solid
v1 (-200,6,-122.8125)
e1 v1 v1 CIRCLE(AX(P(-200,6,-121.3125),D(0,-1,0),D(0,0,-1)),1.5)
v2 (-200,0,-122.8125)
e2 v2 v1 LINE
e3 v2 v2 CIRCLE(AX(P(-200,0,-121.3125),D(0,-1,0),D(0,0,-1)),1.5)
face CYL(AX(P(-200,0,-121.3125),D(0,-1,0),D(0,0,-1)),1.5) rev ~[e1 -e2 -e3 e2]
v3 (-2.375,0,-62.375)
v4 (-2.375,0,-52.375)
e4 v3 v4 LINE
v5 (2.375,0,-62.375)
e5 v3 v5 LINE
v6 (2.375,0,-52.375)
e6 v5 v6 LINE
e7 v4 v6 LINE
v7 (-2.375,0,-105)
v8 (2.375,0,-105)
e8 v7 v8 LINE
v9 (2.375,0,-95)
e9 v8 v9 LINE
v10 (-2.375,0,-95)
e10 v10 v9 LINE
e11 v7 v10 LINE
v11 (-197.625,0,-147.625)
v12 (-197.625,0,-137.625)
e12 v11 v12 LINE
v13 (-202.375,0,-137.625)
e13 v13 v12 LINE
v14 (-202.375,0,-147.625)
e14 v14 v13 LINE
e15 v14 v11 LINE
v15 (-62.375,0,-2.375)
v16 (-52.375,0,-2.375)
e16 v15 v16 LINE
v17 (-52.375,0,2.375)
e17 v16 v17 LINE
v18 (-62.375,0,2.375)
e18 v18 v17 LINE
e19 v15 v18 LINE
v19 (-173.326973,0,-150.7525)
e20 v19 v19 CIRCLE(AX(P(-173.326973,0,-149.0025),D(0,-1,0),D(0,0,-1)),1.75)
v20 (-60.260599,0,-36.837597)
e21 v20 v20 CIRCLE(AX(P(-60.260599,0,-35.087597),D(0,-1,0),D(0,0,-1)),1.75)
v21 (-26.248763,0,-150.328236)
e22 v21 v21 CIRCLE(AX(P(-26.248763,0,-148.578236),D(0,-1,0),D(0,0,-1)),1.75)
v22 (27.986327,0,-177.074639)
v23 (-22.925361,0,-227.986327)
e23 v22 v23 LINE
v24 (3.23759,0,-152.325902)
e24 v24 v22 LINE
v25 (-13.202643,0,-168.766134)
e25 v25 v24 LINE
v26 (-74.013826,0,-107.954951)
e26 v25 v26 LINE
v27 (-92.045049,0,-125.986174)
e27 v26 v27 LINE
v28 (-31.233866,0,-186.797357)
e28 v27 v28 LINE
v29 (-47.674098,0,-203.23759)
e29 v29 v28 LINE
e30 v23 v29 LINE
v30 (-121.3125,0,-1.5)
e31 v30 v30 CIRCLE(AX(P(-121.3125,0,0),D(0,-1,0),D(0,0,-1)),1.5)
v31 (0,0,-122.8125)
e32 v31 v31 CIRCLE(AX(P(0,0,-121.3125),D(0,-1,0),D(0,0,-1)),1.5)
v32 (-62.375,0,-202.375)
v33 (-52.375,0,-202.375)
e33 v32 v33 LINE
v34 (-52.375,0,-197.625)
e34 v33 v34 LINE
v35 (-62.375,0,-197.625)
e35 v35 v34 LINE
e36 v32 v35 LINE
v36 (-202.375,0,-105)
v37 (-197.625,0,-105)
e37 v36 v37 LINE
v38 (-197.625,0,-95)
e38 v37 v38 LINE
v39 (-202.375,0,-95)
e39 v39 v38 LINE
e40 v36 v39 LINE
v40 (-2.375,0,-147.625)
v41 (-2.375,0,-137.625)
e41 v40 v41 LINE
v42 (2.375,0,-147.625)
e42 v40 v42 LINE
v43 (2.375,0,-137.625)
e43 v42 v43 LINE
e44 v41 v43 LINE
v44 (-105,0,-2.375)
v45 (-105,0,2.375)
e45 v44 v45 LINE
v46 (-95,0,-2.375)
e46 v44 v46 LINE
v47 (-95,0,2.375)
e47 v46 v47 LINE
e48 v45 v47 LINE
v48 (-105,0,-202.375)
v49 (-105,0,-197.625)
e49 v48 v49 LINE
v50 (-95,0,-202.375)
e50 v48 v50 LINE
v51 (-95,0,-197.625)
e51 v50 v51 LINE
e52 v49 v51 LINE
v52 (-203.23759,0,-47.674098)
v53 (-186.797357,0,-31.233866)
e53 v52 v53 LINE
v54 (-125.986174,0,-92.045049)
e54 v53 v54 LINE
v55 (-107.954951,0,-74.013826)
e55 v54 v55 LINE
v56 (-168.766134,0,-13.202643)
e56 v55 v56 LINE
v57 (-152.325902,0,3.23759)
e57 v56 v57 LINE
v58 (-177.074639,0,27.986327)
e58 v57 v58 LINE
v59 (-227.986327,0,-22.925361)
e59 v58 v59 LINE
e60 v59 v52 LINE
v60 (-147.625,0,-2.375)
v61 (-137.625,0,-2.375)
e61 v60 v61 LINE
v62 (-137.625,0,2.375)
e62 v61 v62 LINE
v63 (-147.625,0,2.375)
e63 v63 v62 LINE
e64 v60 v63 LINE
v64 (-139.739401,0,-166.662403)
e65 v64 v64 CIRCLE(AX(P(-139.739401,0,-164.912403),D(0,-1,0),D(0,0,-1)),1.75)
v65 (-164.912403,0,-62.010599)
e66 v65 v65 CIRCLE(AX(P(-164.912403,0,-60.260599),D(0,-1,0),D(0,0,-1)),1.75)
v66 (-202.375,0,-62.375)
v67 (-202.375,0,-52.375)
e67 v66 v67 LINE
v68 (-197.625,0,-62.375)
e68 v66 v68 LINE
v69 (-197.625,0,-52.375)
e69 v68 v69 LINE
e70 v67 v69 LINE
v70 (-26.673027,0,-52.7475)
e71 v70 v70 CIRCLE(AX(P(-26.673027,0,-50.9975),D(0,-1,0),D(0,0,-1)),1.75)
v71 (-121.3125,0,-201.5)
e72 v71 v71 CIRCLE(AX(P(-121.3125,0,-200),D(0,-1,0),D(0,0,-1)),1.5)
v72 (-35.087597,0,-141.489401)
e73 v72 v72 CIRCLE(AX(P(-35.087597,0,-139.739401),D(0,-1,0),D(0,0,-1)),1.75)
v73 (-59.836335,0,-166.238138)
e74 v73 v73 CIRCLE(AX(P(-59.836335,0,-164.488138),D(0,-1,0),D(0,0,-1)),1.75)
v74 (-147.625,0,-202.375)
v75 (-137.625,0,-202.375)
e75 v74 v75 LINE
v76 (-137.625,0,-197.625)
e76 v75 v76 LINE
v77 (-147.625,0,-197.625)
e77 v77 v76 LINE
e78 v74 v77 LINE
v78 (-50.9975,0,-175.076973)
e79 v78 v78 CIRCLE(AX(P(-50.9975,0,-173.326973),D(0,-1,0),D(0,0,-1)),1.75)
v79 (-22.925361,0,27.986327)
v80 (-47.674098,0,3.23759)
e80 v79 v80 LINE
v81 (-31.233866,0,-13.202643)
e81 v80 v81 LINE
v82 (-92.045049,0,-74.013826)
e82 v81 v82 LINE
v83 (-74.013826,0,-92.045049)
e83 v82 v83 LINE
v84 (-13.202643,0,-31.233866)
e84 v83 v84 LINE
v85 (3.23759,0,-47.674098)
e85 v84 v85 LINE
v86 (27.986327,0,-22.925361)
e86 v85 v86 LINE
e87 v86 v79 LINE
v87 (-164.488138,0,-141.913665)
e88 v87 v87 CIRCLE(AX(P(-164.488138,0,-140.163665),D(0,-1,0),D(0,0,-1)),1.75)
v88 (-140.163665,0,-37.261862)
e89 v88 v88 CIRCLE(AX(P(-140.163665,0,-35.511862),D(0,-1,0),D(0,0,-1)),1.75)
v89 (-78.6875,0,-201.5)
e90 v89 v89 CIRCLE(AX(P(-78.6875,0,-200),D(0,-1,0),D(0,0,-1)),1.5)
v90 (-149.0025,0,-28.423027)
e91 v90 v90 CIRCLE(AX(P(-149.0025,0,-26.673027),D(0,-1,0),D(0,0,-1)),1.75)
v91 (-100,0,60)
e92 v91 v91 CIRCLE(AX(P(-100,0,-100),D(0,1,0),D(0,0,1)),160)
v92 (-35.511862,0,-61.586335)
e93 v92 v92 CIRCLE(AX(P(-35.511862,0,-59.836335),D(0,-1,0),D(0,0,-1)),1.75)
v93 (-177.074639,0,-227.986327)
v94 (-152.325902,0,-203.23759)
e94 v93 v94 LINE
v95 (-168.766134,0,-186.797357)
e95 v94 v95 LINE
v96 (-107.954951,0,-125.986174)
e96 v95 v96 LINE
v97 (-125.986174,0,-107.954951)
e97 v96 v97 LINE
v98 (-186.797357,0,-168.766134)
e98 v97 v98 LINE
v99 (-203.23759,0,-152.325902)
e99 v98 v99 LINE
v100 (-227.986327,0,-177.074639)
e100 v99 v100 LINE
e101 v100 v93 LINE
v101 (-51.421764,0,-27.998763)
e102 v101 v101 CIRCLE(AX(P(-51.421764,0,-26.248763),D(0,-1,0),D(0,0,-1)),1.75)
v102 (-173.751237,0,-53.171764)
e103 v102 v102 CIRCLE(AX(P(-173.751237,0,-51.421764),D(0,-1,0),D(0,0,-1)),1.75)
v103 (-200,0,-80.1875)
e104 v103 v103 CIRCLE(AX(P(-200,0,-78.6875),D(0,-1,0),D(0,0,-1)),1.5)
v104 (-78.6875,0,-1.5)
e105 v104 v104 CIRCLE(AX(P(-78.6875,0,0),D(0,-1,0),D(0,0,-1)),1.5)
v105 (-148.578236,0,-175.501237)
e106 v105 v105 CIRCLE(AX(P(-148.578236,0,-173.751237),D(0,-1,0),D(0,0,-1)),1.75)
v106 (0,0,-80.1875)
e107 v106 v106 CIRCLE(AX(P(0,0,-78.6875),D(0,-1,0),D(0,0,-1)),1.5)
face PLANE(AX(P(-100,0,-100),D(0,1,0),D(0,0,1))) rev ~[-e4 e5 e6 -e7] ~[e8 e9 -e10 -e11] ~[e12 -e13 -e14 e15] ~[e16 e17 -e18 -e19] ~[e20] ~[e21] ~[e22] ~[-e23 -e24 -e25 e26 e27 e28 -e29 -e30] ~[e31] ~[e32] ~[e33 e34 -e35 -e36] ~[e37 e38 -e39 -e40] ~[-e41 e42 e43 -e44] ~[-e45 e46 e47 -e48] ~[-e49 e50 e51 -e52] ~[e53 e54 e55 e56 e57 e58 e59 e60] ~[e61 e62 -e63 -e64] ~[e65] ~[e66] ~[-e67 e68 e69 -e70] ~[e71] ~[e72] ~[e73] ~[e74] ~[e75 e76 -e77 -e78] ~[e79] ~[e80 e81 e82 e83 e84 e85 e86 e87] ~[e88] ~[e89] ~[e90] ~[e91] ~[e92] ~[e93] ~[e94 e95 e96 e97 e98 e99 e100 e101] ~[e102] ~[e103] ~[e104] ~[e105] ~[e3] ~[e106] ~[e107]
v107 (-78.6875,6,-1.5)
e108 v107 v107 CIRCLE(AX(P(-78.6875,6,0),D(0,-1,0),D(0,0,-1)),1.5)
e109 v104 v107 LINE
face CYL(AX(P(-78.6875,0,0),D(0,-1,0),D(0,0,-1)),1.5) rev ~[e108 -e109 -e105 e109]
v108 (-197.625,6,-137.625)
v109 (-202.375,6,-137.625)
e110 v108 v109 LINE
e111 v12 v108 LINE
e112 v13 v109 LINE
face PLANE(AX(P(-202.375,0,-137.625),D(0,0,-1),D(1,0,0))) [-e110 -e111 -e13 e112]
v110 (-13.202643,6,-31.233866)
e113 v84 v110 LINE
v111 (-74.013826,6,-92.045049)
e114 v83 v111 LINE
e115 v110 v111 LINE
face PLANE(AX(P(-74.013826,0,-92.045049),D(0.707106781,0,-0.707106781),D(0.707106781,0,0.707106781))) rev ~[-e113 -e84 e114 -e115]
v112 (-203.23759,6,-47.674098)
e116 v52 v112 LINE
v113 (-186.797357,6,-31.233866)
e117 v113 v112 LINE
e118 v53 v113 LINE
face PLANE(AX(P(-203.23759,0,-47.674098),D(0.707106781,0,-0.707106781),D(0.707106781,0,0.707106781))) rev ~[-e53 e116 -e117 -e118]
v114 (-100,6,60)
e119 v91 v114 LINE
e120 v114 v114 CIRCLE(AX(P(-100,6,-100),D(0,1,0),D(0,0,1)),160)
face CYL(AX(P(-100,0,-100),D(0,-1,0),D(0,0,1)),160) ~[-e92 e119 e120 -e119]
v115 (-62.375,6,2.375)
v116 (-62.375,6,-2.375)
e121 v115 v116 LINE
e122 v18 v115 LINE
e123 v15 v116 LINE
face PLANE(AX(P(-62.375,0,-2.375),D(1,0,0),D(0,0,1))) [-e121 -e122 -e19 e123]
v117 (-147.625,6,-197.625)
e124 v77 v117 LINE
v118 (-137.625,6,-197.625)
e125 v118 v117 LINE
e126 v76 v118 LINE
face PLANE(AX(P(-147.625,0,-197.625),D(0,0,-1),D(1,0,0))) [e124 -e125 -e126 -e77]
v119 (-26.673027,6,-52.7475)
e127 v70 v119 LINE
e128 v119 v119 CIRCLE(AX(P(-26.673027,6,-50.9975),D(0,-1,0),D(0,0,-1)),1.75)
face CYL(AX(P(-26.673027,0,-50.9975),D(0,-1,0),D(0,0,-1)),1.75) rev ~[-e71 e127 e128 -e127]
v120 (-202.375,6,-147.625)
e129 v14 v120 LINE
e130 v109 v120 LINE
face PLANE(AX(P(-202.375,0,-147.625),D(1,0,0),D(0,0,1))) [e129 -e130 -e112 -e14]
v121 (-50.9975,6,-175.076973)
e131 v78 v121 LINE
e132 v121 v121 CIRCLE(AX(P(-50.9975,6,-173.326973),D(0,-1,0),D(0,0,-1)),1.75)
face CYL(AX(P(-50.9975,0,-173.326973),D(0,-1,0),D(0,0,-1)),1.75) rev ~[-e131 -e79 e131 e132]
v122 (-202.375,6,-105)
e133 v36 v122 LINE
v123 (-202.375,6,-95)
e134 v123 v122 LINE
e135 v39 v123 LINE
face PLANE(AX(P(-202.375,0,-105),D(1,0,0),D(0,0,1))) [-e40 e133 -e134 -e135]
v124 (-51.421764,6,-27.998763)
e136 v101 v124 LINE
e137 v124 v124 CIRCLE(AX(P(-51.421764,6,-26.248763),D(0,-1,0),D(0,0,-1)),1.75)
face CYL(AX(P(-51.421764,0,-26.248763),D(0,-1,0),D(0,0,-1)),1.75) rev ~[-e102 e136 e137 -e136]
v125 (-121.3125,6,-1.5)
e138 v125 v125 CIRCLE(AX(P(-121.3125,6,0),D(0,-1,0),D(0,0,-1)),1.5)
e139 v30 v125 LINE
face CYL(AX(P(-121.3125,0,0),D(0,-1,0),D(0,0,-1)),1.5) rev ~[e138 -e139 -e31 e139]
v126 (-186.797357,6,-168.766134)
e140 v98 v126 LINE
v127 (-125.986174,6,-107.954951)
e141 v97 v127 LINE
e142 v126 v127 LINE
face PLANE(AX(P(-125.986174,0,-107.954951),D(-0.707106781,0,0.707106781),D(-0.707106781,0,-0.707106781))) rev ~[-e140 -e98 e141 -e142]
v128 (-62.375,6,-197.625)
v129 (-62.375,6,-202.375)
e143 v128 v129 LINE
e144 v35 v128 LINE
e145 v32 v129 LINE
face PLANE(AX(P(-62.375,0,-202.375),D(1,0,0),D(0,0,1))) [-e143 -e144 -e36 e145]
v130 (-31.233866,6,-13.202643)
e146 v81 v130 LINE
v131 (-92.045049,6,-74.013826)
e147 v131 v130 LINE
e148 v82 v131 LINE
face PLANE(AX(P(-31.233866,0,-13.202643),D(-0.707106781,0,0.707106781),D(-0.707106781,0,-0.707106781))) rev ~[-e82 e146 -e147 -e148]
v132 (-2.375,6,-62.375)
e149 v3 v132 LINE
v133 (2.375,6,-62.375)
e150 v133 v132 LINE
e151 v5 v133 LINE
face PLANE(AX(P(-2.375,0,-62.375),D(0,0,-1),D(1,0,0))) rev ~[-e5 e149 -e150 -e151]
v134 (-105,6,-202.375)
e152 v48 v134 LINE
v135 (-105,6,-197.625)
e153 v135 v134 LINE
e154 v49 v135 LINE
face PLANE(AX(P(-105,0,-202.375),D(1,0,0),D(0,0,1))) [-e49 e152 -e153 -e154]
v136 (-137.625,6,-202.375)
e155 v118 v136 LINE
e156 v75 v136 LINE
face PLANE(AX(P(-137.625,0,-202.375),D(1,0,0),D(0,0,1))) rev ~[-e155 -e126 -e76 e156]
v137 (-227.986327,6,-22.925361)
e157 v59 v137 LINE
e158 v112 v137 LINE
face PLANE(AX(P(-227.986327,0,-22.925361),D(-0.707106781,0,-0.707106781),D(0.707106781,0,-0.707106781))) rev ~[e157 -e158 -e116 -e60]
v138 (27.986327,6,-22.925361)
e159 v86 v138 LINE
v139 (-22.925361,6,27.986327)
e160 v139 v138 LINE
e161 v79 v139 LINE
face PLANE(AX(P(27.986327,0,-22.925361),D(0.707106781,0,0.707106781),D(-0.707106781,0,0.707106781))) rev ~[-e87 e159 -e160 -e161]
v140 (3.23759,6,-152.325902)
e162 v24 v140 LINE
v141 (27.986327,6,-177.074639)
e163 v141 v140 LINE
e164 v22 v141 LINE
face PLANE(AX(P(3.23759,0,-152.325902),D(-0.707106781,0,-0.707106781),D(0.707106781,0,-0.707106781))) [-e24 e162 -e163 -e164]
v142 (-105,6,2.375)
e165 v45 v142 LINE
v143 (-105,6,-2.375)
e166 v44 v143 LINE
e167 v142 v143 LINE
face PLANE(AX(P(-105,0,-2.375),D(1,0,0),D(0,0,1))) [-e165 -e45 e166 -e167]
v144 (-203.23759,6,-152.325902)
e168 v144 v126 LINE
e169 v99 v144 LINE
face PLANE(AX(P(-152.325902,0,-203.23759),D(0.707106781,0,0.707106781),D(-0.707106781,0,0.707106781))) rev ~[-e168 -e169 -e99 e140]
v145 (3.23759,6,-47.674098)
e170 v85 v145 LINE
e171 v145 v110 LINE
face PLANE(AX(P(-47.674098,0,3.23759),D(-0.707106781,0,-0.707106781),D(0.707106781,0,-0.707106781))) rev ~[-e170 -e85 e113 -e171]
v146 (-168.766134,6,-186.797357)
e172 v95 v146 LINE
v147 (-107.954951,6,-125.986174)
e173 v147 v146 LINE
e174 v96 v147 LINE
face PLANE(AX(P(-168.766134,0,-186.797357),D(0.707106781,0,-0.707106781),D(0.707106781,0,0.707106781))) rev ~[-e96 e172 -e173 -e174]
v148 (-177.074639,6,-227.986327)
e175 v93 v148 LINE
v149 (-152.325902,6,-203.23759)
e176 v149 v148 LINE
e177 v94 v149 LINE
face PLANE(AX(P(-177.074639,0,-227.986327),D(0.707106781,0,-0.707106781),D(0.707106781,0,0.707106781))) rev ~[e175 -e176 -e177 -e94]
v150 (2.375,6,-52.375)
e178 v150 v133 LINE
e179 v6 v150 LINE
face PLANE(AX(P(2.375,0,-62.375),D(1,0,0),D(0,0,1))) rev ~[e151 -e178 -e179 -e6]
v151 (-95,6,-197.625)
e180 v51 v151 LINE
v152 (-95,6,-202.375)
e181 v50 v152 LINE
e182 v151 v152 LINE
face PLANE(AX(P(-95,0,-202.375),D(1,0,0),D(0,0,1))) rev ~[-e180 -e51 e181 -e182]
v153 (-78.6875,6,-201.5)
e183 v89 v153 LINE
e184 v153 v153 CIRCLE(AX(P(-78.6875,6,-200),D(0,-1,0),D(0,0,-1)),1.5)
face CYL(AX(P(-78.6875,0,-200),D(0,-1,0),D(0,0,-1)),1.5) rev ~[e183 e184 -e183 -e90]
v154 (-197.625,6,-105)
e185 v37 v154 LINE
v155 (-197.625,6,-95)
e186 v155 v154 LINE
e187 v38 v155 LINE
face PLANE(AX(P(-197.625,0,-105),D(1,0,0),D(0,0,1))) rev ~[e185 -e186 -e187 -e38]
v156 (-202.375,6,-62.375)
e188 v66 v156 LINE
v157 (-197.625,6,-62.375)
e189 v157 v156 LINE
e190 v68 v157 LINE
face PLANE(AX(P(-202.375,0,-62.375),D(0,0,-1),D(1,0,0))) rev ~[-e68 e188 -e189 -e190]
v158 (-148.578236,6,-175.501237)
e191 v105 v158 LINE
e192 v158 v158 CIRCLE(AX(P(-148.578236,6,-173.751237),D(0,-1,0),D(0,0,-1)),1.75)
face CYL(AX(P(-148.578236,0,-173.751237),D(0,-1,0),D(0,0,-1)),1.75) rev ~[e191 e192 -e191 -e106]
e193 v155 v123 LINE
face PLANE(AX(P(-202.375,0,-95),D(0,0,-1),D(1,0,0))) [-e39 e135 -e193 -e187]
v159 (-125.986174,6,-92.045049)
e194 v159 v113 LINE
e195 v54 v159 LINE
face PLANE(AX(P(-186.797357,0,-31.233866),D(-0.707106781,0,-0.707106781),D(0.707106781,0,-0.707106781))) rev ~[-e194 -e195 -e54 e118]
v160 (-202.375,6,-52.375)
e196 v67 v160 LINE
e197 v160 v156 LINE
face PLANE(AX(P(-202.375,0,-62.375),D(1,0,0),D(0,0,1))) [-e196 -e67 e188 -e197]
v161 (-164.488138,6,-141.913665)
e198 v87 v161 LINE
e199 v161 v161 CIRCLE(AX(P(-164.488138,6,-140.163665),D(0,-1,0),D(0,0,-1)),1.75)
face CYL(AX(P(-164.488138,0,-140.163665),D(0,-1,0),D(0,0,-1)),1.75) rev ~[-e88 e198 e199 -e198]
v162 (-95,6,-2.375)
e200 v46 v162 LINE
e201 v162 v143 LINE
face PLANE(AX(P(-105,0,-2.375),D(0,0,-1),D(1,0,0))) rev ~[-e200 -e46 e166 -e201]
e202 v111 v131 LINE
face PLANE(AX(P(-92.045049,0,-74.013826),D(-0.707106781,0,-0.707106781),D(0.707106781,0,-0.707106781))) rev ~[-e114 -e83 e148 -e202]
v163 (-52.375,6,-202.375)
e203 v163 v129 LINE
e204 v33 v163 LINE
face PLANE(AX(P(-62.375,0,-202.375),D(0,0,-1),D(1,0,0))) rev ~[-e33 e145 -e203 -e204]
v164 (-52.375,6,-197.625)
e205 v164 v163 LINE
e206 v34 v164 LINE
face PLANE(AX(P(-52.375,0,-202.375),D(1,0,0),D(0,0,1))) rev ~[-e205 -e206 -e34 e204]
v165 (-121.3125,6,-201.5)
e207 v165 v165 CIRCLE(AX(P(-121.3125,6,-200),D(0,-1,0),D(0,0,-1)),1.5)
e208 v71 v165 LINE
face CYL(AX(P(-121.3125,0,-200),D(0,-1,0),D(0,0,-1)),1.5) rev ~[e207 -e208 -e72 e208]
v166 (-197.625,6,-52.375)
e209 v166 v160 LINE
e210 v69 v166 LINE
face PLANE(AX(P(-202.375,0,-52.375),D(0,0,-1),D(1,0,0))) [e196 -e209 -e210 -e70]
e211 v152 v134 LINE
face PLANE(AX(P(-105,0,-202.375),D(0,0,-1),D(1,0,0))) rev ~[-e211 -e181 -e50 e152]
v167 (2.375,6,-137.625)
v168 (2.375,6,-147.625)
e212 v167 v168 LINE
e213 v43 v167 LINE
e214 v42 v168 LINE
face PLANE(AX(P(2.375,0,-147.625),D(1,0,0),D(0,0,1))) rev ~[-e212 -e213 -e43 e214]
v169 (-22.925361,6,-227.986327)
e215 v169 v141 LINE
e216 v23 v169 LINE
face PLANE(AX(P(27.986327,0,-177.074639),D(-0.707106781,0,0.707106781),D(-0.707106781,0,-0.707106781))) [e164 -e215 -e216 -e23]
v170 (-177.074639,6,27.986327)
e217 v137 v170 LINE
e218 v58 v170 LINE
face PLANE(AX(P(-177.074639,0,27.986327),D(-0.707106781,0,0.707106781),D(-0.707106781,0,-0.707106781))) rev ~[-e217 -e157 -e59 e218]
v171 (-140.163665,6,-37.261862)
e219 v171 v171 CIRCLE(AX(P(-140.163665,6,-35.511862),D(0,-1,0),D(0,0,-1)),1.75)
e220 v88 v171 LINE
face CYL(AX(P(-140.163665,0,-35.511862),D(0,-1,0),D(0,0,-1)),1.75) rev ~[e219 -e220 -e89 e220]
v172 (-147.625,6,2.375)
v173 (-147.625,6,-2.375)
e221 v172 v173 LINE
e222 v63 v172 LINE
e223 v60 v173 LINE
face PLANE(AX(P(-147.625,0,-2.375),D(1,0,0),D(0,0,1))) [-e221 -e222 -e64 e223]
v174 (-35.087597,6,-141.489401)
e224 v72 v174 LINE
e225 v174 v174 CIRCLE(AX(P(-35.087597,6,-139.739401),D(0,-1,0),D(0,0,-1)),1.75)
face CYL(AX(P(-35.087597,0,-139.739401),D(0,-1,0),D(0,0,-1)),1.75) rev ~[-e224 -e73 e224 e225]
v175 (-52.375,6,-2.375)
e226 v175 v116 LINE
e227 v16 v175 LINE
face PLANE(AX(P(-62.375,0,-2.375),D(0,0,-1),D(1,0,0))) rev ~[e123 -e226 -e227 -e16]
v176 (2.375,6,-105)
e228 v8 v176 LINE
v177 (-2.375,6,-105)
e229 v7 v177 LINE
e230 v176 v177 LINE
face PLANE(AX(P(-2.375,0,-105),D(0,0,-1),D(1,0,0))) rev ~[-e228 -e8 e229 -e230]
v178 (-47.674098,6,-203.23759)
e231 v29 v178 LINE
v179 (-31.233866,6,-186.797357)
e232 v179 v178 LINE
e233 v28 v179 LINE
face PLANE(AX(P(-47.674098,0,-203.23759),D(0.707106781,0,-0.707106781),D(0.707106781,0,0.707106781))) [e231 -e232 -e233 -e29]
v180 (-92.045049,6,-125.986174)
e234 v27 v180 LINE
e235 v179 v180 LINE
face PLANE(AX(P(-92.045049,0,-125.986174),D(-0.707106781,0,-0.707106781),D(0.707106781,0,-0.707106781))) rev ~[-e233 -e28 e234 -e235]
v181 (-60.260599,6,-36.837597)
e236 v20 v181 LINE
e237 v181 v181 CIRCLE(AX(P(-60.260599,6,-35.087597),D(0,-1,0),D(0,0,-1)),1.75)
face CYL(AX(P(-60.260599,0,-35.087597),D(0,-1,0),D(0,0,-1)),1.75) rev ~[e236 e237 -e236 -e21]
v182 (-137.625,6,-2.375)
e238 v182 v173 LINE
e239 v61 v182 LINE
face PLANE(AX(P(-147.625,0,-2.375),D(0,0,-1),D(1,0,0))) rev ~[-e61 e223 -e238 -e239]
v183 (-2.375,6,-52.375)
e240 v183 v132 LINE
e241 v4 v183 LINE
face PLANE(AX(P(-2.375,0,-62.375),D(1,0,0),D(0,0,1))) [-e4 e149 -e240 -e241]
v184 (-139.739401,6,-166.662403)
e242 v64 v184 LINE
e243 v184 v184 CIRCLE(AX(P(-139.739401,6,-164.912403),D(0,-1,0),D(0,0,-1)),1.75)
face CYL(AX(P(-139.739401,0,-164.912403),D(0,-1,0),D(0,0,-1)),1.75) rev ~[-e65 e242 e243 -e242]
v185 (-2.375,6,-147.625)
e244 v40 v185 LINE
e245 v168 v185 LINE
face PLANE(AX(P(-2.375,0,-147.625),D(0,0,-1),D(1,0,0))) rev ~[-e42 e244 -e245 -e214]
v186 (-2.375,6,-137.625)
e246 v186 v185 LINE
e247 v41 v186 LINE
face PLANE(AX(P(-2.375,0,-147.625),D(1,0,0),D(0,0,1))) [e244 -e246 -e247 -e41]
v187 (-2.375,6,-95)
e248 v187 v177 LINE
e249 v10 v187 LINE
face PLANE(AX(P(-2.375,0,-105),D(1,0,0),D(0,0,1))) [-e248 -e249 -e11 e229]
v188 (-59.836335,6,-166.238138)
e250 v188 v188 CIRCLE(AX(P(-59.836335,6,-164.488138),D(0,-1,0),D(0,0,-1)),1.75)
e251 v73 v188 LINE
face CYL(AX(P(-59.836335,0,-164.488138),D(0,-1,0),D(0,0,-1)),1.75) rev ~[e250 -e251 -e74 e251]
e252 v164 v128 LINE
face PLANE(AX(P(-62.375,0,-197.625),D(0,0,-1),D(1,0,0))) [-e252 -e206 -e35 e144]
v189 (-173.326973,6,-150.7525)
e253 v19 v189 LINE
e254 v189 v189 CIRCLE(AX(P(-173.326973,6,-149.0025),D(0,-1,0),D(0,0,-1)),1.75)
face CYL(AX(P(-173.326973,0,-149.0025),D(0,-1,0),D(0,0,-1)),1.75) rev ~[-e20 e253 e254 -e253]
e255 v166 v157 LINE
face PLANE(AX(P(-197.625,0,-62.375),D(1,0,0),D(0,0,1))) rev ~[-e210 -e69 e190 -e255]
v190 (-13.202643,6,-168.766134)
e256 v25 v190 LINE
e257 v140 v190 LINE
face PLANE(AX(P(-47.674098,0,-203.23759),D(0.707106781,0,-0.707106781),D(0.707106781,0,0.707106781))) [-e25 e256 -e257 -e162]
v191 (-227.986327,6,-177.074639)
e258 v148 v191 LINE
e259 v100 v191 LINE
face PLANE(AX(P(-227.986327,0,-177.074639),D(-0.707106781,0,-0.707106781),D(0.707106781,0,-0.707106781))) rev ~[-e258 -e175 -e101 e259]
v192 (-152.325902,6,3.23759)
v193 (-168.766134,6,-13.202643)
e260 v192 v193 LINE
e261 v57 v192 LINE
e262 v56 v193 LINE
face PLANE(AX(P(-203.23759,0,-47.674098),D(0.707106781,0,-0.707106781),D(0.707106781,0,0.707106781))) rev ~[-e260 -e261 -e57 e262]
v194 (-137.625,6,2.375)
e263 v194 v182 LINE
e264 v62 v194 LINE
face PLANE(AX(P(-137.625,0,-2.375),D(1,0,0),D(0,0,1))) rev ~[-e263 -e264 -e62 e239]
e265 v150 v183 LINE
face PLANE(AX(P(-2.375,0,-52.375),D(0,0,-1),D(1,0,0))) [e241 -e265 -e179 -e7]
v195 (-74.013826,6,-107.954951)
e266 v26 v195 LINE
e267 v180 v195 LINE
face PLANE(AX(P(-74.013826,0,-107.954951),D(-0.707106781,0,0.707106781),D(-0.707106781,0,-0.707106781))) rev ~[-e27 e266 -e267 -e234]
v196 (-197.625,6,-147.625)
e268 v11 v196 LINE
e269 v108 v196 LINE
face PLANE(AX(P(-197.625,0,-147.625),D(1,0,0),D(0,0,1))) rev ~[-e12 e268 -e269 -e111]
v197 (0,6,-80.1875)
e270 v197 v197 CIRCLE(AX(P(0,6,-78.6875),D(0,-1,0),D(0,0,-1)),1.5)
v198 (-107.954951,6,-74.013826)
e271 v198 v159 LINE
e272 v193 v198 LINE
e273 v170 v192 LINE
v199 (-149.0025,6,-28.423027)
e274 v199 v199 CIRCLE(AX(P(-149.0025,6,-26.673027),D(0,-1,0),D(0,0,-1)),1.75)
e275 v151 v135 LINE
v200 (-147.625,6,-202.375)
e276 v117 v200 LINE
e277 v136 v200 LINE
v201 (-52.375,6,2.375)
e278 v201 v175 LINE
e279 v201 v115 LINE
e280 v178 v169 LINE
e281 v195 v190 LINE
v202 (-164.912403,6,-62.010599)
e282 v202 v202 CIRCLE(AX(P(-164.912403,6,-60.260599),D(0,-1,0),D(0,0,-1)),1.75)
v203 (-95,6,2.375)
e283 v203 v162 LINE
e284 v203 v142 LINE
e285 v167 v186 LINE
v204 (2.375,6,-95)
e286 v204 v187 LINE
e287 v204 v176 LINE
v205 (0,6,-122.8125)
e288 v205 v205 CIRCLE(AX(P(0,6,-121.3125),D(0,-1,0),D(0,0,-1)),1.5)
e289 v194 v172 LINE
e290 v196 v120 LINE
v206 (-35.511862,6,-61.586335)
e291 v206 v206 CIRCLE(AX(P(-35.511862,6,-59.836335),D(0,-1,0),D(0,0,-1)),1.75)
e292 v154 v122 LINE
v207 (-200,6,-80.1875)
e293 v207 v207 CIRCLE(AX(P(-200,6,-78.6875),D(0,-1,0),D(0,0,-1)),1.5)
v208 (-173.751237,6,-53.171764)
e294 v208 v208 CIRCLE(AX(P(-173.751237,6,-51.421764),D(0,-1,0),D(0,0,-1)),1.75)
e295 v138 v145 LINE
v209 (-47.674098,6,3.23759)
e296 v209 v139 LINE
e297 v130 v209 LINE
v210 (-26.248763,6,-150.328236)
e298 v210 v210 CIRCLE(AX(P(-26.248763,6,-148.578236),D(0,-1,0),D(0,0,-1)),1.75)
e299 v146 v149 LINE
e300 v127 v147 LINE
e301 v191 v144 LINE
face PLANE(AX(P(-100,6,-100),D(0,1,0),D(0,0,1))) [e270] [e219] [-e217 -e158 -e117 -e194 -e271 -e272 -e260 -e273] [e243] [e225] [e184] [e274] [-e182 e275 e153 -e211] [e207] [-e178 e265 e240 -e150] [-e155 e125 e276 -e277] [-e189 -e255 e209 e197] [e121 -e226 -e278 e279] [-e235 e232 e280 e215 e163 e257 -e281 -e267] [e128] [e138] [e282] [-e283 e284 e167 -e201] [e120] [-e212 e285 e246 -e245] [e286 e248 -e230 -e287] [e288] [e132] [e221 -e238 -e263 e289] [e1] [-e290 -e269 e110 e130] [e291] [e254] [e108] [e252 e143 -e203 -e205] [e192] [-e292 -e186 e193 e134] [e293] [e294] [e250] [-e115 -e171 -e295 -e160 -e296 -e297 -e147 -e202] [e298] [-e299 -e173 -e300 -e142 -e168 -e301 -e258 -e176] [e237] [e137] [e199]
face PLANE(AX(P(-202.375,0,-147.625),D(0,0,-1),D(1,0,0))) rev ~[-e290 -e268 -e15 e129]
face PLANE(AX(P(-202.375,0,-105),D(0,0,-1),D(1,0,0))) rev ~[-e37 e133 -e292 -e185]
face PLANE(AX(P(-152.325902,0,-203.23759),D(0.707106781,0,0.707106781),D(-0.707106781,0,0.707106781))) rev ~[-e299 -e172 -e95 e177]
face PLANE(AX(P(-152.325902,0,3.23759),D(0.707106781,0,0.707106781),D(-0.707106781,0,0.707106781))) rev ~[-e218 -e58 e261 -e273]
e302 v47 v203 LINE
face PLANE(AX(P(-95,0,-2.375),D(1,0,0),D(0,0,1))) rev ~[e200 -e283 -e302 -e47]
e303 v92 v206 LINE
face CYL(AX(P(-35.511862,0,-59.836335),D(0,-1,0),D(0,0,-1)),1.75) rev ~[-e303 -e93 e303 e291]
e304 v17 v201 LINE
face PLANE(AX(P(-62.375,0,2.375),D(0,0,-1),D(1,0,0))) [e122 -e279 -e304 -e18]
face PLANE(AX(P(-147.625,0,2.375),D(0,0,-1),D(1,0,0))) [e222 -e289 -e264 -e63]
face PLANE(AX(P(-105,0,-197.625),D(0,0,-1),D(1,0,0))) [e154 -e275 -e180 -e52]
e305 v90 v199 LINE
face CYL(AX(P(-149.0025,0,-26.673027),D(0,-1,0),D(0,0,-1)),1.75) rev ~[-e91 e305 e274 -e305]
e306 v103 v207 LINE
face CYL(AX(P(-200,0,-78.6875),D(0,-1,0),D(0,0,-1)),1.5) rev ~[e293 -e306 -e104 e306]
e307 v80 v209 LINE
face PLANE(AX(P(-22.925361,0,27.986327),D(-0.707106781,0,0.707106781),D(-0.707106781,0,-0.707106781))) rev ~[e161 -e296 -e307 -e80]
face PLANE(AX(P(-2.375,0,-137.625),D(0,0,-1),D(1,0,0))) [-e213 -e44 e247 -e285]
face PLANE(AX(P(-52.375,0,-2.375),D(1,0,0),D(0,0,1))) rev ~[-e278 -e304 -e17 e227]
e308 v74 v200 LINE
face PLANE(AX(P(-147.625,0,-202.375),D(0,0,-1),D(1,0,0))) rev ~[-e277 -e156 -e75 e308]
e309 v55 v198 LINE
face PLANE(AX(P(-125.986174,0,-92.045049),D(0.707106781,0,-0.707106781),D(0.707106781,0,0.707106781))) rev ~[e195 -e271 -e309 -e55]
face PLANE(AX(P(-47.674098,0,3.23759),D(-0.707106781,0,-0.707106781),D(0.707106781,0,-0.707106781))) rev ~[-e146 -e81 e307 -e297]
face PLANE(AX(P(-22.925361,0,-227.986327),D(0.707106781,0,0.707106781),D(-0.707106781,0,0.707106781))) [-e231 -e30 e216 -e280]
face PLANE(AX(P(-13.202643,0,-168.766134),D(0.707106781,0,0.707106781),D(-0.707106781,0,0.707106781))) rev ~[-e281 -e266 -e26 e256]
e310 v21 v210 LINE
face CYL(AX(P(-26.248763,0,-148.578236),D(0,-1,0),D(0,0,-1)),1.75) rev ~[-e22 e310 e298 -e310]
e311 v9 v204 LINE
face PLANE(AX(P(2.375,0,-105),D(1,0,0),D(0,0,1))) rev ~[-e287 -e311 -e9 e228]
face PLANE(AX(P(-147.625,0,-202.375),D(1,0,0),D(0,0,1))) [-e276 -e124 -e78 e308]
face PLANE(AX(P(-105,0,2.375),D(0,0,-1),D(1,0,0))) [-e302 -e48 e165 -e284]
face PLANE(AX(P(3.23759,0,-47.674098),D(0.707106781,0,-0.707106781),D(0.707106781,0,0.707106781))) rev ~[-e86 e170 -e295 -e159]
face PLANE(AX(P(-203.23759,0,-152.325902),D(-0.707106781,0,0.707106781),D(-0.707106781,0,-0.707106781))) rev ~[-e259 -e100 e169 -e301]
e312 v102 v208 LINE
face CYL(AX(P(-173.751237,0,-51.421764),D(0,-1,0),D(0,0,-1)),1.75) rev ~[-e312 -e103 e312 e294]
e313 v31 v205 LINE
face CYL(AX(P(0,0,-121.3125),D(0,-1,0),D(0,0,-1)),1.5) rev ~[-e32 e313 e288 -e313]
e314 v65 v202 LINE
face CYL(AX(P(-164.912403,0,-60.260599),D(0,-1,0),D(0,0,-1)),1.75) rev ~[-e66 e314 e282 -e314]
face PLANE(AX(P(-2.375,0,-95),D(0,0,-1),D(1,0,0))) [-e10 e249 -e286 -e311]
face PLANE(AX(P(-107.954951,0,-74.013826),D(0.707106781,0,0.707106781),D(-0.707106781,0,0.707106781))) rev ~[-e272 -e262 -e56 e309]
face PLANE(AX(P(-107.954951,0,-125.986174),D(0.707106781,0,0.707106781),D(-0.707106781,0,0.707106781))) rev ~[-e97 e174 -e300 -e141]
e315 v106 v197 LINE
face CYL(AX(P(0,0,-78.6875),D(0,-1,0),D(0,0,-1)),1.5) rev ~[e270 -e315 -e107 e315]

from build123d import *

# Parameters (mm, degrees)
SKETCH1_R           = 160
BOSS_EXTRUDE1_DEPTH = 6
CUT_EXTRUDE1_DEPTH  = 368.744476505
CUT_EXTRUDE2_DEPTH  = 368.744476505
SKETCH7_R           = 1.75
CUT_EXTRUDE3_DEPTH  = 368.744476505
SKETCH9_R           = 1.5
SKETCH9_W           = 4.75
SKETCH9_H           = 10
SKETCH9_W_2         = 10
SKETCH9_H_2         = 4.75
CUT_EXTRUDE4_DEPTH  = 368.744476505


with BuildPart() as part:
    # Sketch1 → Boss-Extrude1 (new body)
    with BuildSketch(Plane(origin=(0, 0, 0), x_dir=(1, 0, 0), z_dir=(0, 1, 0))):
        with Locations(Location((-100, 100, 0), (0, 0, 270))):
            Circle(SKETCH1_R)
    extrude(amount=BOSS_EXTRUDE1_DEPTH)

    # Sketch3 → Cut-Extrude1 (cut, through all)
    with BuildSketch(Plane.XZ):
        Polygon((-22.925360851, -227.986327395), (-47.674098192, -203.237590053), (3.237590053, -152.325901808), (27.986327395, -177.074639149), align=None)
        Polygon((3.237590053, -47.674098192), (27.986327395, -22.925360851), (-22.925360851, 27.986327395), (-47.674098192, 3.237590053), align=None)
        Polygon((-152.325901808, 3.237590053), (-177.074639149, 27.986327395), (-227.986327395, -22.925360851), (-203.237590053, -47.674098192), align=None)
        Polygon((-177.074639149, -227.986327395), (-152.325901808, -203.237590053), (-203.237590053, -152.325901808), (-227.986327395, -177.074639149), align=None)
    extrude(amount=-CUT_EXTRUDE1_DEPTH, mode=Mode.SUBTRACT)

    # Sketch4 → Cut-Extrude2 (cut, through all)
    with BuildSketch(Plane.XZ):
        Polygon((-31.23386553, -186.797357391), (-13.202642609, -168.76613447), (-74.013825791, -107.954951288), (-92.045048712, -125.986174209), align=None)
        Polygon((-125.986174209, -107.954951288), (-186.797357391, -168.76613447), (-168.76613447, -186.797357391), (-107.954951288, -125.986174209), align=None)
        Polygon((-107.954951288, -74.013825791), (-168.76613447, -13.202642609), (-186.797357391, -31.23386553), (-125.986174209, -92.045048712), align=None)
        Polygon((-74.013825791, -92.045048712), (-13.202642609, -31.23386553), (-31.23386553, -13.202642609), (-92.045048712, -74.013825791), align=None)
    extrude(amount=-CUT_EXTRUDE2_DEPTH, mode=Mode.SUBTRACT)

    # Sketch7 → Cut-Extrude3 (cut, through all)
    with BuildSketch(Plane.XZ):
        with Locations(Location((-149.002499936, -26.673026791, 0), (0, 0, 270))):
            Circle(SKETCH7_R)
        with Locations(Location((-148.578235868, -173.751237278, 0), (0, 0, 270))):
            Circle(SKETCH7_R)
        with Locations(Location((-140.163665171, -35.511861556, 0), (0, 0, 270))):
            Circle(SKETCH7_R)
        with Locations(Location((-164.912402513, -60.260598897, 0), (0, 0, 270))):
            Circle(SKETCH7_R)
        with Locations(Location((-173.751237278, -51.421764132, 0), (0, 0, 270))):
            Circle(SKETCH7_R)
        with Locations(Location((-173.326973209, -149.002499936, 0), (0, 0, 270))):
            Circle(SKETCH7_R)
        with Locations(Location((-164.488138444, -140.163665171, 0), (0, 0, 270))):
            Circle(SKETCH7_R)
        with Locations(Location((-139.739401103, -164.912402513, 0), (0, 0, 270))):
            Circle(SKETCH7_R)
        with Locations(Location((-26.673026791, -50.997500064, 0), (0, 0, 270))):
            Circle(SKETCH7_R)
        with Locations(Location((-35.511861556, -59.836334829, 0), (0, 0, 270))):
            Circle(SKETCH7_R)
        with Locations(Location((-60.260598897, -35.087597487, 0), (0, 0, 270))):
            Circle(SKETCH7_R)
        with Locations(Location((-51.421764132, -26.248762722, 0), (0, 0, 270))):
            Circle(SKETCH7_R)
        with Locations(Location((-50.997500064, -173.326973209, 0), (0, 0, 270))):
            Circle(SKETCH7_R)
        with Locations(Location((-59.836334829, -164.488138444, 0), (0, 0, 270))):
            Circle(SKETCH7_R)
        with Locations(Location((-35.087597487, -139.739401103, 0), (0, 0, 270))):
            Circle(SKETCH7_R)
        with Locations(Location((-26.248762722, -148.578235868, 0), (0, 0, 270))):
            Circle(SKETCH7_R)
    extrude(amount=-CUT_EXTRUDE3_DEPTH, mode=Mode.SUBTRACT)

    # Sketch9 → Cut-Extrude4 (cut, through all)
    with BuildSketch(Plane.XZ):
        with Locations(Location((0, -78.6875, 0), (0, 0, 270))):
            Circle(SKETCH9_R)
        with Locations(Location((0, -121.3125, 0), (0, 0, 270))):
            Circle(SKETCH9_R)
        with Locations(Location((-78.6875, -200, 0), (0, 0, 270))):
            Circle(SKETCH9_R)
        with Locations(Location((-121.3125, -200, 0), (0, 0, 270))):
            Circle(SKETCH9_R)
        with Locations(Location((-200, -121.3125, 0), (0, 0, 270))):
            Circle(SKETCH9_R)
        with Locations(Location((-200, -78.6875, 0), (0, 0, 270))):
            Circle(SKETCH9_R)
        with Locations(Location((-121.3125, 0, 0), (0, 0, 270))):
            Circle(SKETCH9_R)
        with Locations(Location((-78.6875, 0, 0), (0, 0, 270))):
            Circle(SKETCH9_R)
        with Locations((0, -142.625)):
            Rectangle(SKETCH9_W, SKETCH9_H)
        with Locations((0, -100)):
            Rectangle(SKETCH9_W, SKETCH9_H)
        with Locations((0, -57.375)):
            Rectangle(SKETCH9_W, SKETCH9_H)
        with Locations((-100, -200)):
            Rectangle(SKETCH9_W_2, SKETCH9_H_2)
        with Locations((-57.375, -200)):
            Rectangle(SKETCH9_W_2, SKETCH9_H_2)
        with Locations((-142.625, -200)):
            Rectangle(SKETCH9_W_2, SKETCH9_H_2)
        with Locations((-200, -100)):
            Rectangle(SKETCH9_W, SKETCH9_H)
        with Locations((-200, -142.625)):
            Rectangle(SKETCH9_W, SKETCH9_H)
        with Locations((-200, -57.375)):
            Rectangle(SKETCH9_W, SKETCH9_H)
        with Locations((-100, 0)):
            Rectangle(SKETCH9_W_2, SKETCH9_H_2)
        with Locations((-142.625, 0)):
            Rectangle(SKETCH9_W_2, SKETCH9_H_2)
        with Locations((-57.375, 0)):
            Rectangle(SKETCH9_W_2, SKETCH9_H_2)
    extrude(amount=-CUT_EXTRUDE4_DEPTH, mode=Mode.SUBTRACT)


solid = part.part
